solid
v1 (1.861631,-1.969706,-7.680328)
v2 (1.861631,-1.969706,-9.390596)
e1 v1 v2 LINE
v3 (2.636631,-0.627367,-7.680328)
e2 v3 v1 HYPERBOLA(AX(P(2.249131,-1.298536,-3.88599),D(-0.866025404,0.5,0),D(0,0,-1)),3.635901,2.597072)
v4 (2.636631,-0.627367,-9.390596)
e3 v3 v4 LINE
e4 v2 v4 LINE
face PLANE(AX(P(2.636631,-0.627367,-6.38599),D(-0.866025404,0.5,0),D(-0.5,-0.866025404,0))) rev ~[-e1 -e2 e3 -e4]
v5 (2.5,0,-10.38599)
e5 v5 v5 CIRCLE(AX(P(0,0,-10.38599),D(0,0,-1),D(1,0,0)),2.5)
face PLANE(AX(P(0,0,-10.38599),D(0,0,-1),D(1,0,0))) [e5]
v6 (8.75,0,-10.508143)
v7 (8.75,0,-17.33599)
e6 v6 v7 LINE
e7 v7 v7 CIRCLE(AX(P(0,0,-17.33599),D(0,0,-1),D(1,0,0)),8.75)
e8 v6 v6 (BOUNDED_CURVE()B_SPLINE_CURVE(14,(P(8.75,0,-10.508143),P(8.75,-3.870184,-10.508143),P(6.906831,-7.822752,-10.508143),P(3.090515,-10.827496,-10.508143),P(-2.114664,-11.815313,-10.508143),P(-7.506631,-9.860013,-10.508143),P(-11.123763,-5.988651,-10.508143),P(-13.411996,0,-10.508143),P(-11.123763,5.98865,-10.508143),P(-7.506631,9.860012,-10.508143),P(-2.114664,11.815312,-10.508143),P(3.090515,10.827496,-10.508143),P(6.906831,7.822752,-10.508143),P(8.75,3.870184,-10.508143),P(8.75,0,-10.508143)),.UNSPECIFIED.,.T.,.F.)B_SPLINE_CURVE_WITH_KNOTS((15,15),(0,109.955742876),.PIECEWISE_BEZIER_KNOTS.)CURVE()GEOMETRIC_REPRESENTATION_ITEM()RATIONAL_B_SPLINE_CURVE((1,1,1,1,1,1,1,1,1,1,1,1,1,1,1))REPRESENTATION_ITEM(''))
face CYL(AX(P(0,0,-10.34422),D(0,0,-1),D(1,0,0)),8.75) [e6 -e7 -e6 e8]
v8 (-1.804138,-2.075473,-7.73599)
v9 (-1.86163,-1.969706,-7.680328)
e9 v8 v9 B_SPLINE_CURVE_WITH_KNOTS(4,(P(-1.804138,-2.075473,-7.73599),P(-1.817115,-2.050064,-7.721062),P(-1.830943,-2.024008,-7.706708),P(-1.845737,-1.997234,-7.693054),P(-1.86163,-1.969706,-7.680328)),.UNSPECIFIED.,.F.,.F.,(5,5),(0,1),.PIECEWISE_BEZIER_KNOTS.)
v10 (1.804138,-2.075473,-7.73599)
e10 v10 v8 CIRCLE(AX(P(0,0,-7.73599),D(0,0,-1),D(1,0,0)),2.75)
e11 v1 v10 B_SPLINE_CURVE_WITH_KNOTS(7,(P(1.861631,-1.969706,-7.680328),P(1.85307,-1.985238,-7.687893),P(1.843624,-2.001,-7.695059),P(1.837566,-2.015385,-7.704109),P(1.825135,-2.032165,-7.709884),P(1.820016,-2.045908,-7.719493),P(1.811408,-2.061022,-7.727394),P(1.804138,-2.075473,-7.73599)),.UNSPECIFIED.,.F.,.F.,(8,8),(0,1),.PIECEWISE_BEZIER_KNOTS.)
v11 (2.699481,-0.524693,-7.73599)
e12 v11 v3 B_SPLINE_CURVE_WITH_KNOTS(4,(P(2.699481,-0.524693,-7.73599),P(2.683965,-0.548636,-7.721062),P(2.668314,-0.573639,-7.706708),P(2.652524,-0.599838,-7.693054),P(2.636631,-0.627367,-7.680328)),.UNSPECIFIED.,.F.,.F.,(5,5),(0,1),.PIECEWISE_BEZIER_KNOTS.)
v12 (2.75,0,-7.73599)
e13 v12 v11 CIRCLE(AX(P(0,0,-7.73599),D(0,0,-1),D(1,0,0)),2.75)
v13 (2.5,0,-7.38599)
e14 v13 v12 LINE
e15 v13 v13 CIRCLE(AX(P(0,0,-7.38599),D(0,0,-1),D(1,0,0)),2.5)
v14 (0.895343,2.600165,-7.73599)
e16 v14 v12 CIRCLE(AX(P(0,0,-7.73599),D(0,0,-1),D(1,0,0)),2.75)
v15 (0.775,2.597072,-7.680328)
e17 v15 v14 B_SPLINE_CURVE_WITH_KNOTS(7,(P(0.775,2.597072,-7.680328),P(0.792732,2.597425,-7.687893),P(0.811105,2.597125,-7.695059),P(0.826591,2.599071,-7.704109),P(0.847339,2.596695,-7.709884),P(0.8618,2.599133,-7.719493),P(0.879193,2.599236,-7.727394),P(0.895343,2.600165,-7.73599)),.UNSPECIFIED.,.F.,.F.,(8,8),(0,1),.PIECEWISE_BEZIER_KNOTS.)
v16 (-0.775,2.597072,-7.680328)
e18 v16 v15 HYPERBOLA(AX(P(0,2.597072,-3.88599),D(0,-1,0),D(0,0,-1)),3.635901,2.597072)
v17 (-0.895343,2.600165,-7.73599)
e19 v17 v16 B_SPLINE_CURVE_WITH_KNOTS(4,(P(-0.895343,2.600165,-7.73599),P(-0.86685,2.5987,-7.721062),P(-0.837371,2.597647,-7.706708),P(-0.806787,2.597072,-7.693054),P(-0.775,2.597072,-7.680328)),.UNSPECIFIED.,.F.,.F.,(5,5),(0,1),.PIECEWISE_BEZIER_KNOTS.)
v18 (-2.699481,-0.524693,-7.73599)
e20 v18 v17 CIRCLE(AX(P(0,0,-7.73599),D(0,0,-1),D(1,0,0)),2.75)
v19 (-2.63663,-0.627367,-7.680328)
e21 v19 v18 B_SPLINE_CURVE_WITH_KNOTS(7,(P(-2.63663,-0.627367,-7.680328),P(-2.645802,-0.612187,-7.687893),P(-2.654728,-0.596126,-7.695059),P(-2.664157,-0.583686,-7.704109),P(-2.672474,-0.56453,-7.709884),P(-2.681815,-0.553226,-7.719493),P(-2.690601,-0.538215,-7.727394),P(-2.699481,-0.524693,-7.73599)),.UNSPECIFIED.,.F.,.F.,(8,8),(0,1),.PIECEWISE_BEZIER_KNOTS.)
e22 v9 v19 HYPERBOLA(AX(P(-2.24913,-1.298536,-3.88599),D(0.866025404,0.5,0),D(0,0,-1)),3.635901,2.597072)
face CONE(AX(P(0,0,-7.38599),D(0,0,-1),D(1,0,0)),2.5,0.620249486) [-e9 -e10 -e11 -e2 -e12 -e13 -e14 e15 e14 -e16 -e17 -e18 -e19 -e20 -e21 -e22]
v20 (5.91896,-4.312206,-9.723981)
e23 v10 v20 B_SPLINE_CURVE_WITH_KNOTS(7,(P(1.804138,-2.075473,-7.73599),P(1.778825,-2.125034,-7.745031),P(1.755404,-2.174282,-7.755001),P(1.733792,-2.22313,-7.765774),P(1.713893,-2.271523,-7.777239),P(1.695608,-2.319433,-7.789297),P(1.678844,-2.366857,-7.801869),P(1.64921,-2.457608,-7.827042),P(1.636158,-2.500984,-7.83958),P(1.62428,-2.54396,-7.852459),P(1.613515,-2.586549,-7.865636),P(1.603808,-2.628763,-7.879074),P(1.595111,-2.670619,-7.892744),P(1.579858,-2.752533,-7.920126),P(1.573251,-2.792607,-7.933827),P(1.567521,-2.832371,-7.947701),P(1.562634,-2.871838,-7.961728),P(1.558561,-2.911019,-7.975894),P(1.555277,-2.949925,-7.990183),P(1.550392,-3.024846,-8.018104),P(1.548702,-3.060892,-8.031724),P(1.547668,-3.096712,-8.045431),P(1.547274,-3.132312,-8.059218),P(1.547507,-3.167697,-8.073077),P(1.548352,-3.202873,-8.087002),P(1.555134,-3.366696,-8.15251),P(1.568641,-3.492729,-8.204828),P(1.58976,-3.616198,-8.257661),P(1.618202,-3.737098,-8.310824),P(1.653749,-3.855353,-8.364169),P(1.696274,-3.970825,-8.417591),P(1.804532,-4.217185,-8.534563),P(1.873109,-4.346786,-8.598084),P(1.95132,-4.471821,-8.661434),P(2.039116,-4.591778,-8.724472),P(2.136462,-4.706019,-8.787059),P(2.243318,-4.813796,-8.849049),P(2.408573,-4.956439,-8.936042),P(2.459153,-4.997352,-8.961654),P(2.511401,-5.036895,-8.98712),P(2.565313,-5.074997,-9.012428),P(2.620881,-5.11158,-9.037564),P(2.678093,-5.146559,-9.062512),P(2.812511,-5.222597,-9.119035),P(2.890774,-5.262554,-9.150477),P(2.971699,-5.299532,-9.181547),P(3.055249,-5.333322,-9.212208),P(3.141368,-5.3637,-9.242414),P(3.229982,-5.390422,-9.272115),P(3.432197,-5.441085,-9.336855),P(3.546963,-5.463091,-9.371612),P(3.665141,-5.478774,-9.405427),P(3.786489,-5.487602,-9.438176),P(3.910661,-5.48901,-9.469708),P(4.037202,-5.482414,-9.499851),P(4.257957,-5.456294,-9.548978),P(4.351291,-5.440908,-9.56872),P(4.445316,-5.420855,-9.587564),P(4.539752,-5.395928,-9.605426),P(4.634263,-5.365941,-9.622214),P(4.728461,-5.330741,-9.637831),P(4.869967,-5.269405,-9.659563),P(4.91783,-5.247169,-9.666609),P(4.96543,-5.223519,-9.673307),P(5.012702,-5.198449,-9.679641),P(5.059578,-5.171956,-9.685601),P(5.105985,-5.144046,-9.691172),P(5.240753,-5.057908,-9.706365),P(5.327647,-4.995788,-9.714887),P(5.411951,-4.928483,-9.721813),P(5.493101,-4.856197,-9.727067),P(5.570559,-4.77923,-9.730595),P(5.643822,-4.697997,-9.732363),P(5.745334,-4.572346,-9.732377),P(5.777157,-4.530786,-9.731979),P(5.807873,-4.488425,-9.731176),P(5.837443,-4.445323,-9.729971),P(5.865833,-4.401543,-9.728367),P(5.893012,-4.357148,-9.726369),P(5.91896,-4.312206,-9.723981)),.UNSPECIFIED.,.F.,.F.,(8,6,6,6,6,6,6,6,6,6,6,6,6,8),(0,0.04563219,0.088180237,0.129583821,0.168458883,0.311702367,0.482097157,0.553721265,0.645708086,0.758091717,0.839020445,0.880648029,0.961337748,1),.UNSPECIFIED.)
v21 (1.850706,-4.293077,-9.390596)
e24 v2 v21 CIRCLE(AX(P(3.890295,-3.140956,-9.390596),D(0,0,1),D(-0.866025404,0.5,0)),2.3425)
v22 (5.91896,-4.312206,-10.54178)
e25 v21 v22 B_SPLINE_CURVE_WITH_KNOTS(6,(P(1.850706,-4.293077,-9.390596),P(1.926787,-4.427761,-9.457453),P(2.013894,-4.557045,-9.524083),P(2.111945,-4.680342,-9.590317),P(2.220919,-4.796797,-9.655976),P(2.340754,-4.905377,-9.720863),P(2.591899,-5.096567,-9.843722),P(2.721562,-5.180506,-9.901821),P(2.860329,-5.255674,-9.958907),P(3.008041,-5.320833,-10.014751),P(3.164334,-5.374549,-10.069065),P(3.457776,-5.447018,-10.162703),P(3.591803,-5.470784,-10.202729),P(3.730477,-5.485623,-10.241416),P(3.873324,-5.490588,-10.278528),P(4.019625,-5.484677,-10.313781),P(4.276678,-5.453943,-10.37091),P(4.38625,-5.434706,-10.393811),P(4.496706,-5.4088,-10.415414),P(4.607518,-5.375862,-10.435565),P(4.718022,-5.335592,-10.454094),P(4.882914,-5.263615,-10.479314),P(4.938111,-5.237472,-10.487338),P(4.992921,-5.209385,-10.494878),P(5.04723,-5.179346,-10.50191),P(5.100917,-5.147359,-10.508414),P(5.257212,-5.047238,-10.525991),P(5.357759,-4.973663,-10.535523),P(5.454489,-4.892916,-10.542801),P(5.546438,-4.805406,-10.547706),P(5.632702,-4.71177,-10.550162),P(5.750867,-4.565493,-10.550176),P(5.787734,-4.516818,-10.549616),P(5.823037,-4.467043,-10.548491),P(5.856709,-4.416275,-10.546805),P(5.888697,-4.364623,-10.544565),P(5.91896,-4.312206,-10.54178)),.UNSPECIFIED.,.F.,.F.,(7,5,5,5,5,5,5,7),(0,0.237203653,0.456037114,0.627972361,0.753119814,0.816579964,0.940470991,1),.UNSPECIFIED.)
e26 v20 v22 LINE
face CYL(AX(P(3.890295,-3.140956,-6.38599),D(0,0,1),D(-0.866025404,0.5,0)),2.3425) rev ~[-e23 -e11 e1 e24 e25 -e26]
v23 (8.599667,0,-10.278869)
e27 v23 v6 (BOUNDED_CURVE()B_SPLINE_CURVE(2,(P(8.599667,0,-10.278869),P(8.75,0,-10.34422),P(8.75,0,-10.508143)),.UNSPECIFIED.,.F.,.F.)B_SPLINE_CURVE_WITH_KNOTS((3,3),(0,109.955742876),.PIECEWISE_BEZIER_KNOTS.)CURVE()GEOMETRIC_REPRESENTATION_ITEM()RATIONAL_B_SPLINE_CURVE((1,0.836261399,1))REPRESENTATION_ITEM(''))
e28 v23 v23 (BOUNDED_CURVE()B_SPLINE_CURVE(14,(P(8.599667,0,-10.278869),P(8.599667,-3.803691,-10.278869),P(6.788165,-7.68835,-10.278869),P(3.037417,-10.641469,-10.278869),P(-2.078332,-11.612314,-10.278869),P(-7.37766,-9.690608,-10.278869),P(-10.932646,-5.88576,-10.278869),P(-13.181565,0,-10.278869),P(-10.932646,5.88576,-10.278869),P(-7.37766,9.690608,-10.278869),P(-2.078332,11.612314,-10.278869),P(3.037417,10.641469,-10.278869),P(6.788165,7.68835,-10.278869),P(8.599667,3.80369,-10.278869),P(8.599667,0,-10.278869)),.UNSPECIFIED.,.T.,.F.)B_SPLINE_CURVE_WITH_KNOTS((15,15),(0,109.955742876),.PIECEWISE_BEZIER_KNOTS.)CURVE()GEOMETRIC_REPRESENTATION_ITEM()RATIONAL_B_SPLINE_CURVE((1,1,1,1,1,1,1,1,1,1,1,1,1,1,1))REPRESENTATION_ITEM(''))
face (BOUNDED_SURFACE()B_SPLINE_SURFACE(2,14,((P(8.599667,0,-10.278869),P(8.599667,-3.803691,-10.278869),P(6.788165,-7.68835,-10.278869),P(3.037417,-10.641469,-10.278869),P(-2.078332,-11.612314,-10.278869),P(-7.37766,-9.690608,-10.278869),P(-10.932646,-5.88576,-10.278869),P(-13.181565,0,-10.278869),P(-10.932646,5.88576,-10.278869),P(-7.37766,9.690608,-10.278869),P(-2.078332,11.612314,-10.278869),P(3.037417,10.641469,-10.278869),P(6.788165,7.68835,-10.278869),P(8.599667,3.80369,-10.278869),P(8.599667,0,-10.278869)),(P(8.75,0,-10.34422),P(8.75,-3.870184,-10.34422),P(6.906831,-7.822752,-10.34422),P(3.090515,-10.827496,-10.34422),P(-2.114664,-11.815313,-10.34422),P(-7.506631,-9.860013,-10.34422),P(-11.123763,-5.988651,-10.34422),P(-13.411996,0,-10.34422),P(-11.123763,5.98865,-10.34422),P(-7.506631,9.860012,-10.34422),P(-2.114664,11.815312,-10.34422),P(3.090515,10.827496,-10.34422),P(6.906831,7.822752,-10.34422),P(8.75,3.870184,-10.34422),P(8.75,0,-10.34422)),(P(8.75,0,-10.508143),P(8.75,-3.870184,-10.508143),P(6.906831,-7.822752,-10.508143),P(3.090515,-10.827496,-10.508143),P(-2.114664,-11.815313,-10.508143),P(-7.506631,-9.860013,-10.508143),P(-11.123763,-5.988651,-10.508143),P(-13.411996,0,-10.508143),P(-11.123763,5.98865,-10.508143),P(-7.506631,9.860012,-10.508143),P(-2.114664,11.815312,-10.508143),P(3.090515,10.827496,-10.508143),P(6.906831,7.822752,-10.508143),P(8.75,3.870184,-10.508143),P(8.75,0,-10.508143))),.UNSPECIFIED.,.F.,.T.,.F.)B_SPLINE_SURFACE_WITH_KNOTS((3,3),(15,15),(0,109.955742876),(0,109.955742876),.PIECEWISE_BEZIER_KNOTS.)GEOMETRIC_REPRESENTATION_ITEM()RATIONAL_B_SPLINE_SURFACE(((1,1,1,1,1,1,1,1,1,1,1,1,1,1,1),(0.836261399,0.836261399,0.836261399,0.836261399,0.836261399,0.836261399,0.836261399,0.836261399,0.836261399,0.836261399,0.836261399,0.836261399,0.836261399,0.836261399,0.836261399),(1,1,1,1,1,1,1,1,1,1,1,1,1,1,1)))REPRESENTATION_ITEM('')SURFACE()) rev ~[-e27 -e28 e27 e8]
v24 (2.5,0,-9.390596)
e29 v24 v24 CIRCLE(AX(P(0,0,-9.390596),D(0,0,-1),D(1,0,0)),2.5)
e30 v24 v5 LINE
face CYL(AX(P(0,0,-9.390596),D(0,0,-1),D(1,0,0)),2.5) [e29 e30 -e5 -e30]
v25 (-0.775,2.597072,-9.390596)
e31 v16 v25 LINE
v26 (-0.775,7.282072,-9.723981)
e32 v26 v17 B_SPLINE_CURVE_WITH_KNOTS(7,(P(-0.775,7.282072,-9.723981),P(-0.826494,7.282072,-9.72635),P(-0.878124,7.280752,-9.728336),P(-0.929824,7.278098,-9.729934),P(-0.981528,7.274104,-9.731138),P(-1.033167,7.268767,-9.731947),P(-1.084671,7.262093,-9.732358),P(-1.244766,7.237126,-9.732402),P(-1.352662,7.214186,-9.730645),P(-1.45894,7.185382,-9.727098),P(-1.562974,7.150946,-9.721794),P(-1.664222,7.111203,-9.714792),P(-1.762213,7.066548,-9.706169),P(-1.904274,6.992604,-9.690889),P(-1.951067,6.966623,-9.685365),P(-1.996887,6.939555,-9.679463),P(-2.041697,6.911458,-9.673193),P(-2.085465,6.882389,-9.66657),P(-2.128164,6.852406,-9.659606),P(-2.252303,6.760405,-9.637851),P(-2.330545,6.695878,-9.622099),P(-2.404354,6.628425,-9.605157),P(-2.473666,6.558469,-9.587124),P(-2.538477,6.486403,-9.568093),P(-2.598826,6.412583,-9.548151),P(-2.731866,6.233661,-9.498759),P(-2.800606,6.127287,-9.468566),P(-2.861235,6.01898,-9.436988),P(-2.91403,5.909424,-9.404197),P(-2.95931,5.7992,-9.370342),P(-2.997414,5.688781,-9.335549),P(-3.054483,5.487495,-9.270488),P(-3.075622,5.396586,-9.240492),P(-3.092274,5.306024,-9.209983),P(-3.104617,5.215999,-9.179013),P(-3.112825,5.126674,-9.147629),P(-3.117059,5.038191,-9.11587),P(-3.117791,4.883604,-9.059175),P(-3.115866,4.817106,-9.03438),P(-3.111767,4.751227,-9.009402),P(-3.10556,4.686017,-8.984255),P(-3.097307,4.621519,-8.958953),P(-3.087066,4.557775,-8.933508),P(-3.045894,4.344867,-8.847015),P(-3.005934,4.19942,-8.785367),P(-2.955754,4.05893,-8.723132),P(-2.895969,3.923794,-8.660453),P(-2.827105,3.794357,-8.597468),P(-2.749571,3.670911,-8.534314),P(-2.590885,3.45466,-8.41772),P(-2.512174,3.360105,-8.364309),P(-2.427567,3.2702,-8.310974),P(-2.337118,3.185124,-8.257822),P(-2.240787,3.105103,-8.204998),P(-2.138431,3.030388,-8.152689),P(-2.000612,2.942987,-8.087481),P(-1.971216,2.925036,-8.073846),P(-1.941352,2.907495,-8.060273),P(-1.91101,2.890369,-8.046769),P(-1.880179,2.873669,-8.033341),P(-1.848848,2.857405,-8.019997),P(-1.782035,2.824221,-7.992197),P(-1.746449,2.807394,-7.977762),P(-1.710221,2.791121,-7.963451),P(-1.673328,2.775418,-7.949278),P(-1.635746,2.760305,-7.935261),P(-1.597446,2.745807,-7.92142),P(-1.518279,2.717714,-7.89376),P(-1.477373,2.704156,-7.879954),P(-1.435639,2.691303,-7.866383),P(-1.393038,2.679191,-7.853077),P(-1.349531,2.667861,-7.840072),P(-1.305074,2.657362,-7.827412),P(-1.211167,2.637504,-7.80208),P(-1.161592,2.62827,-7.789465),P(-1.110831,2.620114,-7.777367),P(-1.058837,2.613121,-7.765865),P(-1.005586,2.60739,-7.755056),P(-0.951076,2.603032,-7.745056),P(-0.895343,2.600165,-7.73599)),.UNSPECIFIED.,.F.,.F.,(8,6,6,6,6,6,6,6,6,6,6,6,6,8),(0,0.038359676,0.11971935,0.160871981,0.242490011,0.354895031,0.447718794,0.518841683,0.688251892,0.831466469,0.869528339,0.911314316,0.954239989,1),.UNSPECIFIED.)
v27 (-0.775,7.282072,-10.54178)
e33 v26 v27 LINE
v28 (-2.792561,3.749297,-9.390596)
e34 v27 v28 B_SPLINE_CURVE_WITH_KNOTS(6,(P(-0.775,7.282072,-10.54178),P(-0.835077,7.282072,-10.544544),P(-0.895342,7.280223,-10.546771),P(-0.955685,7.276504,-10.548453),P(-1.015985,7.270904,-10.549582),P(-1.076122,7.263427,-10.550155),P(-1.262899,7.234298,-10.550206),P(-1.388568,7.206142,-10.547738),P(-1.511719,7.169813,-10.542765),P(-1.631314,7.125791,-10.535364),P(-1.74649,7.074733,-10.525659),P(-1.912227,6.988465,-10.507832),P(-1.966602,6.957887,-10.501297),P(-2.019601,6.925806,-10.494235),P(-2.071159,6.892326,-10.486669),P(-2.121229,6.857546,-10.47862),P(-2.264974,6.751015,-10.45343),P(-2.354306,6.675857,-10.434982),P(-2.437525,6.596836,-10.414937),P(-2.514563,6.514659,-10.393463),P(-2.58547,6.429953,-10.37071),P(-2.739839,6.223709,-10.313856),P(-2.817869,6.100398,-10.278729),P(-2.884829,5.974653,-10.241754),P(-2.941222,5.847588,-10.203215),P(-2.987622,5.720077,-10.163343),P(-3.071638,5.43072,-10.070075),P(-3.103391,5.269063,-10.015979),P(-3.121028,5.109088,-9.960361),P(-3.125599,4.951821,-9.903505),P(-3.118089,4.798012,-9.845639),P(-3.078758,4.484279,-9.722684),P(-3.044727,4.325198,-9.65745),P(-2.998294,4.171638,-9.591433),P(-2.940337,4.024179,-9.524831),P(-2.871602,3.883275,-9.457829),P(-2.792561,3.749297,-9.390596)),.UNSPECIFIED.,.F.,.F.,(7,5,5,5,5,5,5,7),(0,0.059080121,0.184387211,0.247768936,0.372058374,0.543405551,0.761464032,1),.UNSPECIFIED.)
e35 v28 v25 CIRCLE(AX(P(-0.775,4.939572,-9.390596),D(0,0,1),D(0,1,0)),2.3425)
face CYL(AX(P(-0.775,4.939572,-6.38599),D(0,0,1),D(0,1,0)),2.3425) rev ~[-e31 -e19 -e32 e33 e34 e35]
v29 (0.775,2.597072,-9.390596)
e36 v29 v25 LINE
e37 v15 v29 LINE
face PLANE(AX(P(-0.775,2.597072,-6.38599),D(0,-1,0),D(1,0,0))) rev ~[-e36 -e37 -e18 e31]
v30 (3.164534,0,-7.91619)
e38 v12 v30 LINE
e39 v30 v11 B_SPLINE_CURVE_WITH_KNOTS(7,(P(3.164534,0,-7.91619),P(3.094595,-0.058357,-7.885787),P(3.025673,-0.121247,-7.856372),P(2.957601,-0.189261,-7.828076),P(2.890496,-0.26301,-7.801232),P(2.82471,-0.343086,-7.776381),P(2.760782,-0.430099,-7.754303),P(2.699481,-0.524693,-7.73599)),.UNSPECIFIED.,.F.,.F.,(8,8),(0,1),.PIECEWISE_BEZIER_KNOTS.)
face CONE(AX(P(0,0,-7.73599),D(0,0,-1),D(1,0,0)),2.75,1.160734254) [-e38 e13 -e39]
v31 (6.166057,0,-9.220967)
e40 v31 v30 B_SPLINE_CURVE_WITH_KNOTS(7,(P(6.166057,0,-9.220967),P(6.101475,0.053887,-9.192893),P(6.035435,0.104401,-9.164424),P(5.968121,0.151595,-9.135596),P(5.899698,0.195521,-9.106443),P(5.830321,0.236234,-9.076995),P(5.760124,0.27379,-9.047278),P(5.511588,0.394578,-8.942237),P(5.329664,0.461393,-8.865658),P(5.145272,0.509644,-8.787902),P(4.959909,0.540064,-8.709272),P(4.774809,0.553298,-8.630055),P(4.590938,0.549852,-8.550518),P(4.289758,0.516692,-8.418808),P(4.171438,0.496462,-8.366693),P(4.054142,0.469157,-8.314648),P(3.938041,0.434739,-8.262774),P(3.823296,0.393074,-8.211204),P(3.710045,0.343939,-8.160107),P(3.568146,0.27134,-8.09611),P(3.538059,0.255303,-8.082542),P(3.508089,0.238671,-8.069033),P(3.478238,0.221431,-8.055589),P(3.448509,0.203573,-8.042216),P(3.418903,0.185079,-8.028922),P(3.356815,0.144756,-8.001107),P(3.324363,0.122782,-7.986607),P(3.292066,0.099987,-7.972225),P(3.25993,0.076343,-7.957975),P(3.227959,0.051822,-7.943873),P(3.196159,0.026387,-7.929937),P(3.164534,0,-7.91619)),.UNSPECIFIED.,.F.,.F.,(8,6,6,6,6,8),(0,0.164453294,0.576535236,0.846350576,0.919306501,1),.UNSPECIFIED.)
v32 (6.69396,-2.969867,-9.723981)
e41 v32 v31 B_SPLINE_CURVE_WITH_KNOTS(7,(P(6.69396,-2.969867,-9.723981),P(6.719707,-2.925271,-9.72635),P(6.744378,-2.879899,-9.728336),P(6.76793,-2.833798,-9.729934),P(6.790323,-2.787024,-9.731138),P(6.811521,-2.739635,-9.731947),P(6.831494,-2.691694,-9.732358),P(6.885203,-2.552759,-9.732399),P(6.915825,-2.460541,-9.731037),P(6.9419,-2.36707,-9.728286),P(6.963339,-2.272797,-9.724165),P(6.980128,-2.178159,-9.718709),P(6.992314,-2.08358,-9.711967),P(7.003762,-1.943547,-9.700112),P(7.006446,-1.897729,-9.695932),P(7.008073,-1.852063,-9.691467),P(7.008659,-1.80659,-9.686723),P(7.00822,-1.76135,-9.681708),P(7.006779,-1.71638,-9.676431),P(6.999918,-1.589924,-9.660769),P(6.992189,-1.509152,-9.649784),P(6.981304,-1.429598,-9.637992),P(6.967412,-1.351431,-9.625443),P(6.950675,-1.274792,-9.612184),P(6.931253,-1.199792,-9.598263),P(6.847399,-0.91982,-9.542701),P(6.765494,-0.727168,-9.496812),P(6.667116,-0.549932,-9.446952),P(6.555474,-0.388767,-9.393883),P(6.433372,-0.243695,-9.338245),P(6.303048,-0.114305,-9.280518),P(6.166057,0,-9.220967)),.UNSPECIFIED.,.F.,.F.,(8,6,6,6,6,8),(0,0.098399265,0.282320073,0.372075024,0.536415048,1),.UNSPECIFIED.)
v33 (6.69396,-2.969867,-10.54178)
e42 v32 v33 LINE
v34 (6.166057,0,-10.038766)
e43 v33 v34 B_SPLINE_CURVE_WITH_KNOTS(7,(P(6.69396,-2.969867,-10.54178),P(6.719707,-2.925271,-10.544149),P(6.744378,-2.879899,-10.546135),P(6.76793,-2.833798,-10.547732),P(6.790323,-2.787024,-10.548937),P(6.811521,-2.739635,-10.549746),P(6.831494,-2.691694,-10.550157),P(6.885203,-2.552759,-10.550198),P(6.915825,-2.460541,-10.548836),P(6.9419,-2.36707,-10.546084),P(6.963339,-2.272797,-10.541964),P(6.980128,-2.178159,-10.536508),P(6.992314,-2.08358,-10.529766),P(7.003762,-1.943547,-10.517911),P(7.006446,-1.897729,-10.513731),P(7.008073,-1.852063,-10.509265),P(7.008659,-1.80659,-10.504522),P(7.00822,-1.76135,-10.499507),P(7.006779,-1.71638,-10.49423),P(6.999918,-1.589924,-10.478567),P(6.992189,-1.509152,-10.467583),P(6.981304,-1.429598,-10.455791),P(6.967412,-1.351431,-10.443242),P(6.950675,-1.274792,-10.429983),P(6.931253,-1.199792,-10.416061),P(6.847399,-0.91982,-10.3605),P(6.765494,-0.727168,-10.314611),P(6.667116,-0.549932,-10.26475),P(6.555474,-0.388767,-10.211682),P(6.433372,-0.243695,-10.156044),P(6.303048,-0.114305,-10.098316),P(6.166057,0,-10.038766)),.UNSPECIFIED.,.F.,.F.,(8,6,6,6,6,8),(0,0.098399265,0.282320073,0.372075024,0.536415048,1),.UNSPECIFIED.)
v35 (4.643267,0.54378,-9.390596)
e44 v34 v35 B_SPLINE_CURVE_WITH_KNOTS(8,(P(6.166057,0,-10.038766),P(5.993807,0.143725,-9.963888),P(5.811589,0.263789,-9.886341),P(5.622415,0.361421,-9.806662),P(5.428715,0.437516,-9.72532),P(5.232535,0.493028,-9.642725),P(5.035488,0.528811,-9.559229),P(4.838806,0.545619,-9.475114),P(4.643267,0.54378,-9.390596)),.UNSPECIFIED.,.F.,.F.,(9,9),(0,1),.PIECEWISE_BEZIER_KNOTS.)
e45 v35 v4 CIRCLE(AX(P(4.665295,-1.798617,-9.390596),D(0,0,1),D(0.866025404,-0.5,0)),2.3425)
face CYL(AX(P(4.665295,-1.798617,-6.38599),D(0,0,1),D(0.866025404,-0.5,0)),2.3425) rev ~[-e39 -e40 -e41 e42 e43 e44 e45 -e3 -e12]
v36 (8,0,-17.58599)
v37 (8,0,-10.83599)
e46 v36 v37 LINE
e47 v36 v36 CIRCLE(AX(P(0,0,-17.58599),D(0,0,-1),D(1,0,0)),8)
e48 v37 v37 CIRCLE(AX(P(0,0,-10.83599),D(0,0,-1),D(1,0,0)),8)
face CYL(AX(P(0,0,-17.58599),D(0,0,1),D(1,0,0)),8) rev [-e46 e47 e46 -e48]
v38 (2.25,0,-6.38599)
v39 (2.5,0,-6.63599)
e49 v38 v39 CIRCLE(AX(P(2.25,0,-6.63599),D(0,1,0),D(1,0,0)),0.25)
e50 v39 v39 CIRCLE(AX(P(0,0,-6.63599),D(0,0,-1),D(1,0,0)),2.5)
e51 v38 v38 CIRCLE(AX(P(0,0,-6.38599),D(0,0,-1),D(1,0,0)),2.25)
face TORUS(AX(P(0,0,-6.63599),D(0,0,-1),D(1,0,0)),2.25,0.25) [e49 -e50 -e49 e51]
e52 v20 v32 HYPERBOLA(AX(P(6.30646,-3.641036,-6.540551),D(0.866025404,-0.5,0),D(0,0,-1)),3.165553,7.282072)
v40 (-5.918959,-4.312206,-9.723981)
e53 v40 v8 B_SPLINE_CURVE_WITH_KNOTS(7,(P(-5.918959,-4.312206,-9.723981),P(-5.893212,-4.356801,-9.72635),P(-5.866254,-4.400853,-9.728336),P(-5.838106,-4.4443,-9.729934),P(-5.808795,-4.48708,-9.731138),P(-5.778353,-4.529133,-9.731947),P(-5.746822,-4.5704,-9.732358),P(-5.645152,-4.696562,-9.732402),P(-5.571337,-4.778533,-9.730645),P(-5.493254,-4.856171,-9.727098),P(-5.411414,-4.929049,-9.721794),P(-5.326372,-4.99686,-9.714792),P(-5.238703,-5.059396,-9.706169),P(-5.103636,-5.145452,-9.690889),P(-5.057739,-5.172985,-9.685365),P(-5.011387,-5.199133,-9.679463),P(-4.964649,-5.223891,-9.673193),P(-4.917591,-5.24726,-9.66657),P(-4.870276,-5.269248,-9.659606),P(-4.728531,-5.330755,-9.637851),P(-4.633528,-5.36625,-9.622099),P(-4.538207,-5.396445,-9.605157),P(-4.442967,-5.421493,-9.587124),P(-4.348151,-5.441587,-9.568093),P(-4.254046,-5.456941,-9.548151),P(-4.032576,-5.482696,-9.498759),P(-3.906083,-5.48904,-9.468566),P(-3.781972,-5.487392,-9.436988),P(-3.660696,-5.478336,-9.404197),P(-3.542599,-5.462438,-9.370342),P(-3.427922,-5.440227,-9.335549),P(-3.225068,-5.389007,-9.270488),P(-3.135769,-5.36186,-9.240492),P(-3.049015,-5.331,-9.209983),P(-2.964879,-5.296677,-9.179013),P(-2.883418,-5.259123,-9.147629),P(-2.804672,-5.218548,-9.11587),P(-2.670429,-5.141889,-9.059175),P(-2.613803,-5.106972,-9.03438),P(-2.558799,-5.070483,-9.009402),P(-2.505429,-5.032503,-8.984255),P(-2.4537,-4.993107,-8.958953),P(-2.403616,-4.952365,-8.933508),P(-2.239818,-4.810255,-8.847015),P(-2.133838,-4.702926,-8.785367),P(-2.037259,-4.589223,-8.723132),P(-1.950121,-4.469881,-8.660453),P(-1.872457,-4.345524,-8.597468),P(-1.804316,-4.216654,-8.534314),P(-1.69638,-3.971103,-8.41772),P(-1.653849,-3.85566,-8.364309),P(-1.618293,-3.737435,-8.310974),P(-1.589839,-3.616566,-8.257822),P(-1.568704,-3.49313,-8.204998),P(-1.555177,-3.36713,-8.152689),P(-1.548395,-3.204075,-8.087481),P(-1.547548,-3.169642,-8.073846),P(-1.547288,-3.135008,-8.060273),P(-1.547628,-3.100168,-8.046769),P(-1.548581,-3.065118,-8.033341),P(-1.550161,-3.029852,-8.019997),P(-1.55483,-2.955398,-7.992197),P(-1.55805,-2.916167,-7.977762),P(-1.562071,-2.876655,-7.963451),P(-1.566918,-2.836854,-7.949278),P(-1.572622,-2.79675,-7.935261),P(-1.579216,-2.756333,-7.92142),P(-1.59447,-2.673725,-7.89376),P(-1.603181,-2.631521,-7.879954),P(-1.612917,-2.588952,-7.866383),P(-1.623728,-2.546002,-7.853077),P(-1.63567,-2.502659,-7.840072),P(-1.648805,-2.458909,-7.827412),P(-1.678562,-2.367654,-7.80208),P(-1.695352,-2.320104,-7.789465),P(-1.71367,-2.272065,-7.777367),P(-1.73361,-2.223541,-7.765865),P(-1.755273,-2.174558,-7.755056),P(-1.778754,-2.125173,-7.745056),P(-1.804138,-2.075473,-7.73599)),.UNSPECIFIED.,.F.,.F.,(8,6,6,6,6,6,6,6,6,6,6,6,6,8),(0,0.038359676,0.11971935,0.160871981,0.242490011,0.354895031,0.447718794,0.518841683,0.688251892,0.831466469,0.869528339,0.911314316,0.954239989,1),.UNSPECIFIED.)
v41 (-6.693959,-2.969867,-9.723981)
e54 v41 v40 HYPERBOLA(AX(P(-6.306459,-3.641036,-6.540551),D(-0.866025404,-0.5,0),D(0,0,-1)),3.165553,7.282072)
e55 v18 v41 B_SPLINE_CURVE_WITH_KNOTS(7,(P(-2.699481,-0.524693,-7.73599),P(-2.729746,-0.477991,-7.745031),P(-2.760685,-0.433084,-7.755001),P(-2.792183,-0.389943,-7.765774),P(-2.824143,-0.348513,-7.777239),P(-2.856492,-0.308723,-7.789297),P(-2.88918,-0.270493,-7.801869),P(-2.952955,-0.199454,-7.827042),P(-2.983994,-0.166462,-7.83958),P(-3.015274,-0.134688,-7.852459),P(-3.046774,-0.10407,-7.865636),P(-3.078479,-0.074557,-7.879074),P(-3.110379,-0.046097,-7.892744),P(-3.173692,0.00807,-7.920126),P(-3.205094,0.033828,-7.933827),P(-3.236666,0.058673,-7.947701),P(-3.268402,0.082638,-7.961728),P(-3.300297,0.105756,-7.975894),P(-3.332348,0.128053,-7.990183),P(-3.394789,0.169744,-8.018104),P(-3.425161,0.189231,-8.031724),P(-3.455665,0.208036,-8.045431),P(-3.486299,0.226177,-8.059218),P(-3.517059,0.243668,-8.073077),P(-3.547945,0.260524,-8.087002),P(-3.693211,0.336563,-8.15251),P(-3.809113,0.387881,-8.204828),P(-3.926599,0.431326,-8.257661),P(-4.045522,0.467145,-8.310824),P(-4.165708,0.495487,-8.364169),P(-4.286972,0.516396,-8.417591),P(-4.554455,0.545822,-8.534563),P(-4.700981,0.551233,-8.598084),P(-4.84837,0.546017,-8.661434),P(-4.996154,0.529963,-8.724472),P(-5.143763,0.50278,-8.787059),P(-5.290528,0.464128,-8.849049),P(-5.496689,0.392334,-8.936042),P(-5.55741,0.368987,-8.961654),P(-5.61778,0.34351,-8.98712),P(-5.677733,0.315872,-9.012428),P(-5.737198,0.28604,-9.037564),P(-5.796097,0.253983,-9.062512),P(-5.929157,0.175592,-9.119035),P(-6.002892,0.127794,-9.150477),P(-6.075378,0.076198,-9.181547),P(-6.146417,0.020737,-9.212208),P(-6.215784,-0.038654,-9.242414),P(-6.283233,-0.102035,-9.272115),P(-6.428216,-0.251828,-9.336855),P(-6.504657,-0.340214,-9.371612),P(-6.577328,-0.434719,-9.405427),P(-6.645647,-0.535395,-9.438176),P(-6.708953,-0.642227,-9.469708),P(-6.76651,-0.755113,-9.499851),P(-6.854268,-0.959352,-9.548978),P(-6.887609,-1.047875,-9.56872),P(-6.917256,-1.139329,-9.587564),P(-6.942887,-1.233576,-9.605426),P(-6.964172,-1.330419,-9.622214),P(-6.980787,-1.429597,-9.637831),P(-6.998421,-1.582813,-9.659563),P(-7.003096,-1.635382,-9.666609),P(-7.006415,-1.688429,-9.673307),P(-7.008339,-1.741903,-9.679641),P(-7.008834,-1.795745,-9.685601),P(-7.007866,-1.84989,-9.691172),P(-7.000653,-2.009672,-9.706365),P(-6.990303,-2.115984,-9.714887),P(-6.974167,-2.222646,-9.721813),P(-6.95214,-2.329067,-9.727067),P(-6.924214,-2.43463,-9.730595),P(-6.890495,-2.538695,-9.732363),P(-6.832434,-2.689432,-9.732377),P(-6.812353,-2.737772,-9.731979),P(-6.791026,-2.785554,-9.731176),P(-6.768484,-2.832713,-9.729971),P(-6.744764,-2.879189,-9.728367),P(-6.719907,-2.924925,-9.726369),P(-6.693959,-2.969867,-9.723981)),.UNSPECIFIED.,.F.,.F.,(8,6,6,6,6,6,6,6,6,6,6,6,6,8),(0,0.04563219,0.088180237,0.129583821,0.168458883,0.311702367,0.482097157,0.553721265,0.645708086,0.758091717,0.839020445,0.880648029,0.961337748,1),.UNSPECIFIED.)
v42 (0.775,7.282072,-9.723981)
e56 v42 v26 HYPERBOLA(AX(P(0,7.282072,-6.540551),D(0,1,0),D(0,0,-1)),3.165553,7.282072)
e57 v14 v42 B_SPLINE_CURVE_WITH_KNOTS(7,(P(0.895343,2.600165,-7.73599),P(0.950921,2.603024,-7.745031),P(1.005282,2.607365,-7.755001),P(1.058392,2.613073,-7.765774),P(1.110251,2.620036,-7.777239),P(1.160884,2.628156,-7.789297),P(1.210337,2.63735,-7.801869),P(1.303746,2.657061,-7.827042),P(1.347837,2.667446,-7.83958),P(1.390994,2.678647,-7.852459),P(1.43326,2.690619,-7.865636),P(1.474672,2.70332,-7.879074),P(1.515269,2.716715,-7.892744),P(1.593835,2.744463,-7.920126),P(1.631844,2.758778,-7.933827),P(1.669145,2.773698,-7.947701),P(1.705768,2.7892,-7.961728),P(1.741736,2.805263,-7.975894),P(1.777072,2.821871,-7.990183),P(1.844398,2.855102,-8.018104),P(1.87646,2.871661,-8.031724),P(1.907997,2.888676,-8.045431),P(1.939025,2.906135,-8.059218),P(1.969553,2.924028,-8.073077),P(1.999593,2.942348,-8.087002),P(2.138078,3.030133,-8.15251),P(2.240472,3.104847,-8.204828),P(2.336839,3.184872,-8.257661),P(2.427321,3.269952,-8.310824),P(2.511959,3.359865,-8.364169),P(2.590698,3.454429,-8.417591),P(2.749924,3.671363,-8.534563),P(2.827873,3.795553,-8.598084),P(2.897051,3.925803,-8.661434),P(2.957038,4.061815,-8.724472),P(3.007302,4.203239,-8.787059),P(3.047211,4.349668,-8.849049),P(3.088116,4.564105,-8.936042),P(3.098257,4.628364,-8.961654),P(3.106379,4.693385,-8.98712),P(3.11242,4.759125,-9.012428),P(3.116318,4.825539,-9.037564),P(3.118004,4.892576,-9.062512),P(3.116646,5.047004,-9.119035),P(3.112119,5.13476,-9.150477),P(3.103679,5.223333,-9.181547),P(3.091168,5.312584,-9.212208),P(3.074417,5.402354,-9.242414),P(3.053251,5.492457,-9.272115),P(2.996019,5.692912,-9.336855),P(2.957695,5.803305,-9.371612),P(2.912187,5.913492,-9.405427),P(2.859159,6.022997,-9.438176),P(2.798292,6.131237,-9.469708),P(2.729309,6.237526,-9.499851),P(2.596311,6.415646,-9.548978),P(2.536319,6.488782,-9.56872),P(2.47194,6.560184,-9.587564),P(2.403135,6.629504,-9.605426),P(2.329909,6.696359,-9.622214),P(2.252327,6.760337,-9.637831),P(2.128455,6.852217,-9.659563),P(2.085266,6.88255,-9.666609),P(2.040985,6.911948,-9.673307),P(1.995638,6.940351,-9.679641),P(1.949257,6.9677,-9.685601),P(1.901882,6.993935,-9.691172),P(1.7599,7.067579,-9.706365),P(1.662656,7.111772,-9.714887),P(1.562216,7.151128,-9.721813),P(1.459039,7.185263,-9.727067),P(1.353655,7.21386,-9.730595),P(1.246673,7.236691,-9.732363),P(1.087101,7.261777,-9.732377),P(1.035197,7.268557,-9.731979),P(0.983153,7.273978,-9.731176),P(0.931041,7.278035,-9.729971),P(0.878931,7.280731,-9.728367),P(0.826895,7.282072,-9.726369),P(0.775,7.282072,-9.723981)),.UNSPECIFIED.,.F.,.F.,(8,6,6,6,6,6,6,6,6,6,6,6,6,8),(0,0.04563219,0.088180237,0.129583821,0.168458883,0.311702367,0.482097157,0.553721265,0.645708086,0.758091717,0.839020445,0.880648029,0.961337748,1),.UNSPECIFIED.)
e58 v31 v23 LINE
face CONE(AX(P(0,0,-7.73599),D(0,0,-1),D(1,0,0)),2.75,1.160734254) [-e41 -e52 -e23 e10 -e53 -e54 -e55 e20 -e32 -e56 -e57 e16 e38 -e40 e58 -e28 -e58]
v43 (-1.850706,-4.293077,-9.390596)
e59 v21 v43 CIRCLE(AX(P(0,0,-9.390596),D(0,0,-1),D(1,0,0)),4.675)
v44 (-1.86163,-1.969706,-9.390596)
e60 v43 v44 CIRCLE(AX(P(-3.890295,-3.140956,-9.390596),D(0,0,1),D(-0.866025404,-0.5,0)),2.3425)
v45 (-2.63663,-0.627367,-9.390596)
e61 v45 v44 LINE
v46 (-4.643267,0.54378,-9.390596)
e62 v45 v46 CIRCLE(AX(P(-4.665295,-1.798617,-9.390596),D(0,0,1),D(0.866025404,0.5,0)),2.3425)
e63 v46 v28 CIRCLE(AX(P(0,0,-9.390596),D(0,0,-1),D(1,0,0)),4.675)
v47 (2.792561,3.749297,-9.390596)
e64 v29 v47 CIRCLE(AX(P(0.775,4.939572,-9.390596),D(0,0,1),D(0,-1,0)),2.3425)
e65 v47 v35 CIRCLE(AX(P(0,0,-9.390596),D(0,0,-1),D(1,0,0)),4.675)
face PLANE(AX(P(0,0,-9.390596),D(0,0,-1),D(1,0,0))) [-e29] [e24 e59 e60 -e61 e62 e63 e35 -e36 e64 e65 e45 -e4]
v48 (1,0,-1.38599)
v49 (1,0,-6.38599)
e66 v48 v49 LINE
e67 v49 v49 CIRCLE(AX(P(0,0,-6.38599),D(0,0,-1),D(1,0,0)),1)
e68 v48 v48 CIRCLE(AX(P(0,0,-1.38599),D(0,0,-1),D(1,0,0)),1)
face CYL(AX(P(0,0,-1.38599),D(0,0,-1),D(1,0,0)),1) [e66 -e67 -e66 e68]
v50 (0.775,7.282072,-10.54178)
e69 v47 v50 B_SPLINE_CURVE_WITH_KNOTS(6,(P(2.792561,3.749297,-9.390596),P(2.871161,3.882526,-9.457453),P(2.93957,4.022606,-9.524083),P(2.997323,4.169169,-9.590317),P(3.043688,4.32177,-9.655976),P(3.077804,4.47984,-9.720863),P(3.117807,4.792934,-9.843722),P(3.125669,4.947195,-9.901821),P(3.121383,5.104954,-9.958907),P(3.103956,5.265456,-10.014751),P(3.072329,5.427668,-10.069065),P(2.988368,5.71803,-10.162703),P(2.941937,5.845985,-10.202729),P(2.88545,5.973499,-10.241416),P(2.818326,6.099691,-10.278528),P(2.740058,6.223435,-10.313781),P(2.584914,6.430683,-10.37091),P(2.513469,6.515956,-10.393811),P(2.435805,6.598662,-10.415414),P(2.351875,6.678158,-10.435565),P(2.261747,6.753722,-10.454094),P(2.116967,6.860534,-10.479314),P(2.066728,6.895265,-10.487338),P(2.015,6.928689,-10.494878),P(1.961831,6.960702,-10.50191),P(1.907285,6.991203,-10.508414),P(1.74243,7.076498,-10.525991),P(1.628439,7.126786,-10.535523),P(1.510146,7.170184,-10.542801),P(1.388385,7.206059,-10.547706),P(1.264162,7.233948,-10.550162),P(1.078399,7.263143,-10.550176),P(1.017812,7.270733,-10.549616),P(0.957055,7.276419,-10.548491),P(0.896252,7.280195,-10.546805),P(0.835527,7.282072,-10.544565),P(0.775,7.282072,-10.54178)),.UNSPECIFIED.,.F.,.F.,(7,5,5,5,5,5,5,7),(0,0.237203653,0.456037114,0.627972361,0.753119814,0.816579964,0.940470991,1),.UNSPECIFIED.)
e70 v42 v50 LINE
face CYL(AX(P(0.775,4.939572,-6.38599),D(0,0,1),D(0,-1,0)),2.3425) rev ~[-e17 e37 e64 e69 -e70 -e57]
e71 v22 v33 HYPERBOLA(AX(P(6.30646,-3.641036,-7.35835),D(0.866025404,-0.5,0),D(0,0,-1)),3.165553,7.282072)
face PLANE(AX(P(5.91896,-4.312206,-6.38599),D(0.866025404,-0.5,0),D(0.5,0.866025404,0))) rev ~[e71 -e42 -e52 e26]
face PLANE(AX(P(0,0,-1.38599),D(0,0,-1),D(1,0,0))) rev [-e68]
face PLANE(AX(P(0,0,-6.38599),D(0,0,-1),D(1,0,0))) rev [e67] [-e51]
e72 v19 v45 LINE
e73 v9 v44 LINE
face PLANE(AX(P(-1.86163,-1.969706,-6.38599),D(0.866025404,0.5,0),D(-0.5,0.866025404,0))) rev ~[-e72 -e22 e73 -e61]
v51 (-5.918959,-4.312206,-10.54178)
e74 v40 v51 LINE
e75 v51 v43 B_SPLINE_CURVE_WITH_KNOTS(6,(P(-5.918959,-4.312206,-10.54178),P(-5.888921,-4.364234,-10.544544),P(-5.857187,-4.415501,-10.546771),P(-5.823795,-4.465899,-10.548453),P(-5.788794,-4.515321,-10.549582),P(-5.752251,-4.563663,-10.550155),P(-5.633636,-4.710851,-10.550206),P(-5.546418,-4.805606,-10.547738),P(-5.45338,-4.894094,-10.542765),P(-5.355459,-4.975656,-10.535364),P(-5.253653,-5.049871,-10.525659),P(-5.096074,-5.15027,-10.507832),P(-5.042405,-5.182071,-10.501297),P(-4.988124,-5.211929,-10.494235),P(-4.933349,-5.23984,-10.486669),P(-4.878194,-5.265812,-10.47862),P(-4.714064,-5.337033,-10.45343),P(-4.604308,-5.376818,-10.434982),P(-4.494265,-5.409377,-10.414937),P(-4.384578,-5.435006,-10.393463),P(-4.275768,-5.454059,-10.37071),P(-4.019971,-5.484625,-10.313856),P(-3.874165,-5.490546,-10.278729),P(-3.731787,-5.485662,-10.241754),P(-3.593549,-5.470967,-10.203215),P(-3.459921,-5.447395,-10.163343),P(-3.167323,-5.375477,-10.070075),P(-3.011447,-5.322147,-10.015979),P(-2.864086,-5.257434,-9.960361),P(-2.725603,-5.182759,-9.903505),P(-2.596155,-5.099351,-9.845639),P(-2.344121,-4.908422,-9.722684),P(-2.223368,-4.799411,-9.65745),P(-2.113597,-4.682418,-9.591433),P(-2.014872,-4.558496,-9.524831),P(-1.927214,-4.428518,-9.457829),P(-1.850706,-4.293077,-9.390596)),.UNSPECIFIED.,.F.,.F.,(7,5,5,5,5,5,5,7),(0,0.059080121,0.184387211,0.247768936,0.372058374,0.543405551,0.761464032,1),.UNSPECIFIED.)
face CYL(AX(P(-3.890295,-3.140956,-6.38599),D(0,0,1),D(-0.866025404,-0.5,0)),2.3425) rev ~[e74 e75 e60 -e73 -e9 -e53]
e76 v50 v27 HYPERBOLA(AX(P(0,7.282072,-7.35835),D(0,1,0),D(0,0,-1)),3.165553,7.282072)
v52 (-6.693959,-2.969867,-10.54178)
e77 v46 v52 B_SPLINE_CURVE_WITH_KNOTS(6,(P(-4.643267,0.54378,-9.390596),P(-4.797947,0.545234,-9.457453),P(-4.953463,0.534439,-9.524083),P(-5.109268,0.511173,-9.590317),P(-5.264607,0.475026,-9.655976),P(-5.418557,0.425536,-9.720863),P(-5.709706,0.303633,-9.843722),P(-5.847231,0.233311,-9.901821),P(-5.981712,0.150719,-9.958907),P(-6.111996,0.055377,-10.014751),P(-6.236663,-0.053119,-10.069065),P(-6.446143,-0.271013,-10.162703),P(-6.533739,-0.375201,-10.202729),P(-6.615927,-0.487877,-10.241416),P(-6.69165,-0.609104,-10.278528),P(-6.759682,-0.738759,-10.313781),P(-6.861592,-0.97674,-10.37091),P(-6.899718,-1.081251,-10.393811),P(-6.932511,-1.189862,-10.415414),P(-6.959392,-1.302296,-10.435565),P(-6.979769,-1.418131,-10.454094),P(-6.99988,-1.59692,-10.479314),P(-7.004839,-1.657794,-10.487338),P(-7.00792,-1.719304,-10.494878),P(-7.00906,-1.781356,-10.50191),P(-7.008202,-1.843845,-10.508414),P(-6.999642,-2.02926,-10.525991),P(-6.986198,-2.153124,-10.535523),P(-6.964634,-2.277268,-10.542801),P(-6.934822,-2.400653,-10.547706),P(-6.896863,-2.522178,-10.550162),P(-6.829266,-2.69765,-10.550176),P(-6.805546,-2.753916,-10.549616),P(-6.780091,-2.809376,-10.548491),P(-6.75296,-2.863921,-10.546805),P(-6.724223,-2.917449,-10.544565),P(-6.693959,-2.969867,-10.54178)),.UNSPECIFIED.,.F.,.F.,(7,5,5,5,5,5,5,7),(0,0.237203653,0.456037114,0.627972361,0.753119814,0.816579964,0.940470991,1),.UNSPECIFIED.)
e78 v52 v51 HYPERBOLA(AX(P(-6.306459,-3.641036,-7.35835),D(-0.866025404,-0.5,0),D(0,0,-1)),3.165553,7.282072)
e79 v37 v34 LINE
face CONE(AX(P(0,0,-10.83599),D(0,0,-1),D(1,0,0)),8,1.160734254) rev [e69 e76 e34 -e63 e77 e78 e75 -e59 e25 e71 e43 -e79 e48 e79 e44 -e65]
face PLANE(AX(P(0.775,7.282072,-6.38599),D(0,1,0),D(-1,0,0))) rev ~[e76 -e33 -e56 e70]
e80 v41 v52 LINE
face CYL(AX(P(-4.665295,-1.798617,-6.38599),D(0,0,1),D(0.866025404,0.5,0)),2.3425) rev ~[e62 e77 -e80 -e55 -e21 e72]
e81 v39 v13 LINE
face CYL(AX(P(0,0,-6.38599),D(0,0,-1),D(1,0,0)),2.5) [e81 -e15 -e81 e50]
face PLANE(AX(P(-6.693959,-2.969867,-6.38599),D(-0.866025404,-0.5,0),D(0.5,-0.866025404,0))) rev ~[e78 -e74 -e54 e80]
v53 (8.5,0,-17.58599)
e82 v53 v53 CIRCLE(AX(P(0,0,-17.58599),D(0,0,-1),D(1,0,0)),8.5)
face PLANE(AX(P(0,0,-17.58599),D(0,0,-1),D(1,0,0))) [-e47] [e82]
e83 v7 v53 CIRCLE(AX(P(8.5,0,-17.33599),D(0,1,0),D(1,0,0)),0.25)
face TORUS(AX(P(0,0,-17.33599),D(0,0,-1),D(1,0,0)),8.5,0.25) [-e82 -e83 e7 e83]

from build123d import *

# Parameters (mm, degrees)
CUT_EXTRUDE_1_DEPTH      = 10
PATTERN_CIRCULAR_1_COUNT = 3
FILLET_1_R               = 0.5
SCALE_1_SCALE            = 0.5


with BuildPart() as part:
    # Эскиз1 → Повернуть1 (revolve)
    with BuildSketch(Plane(origin=(0, 0, 0), x_dir=(0, 0, -1), z_dir=(1, 0, 0)), mode=Mode.PRIVATE) as revolve_1_sk:
        Polygon((-9, 0), (-9, 2), (1, 2), (1, 5), (3, 5), (3.7, 5.5), (8.916460066, 17.5), (23.4, 17.5), (23.4, 16), (9.9, 16), (7.009211714, 9.35), (7.009211714, 5), (9, 5), (9, 0), align=None)
    revolve(revolve_1_sk.sketch.rotate(Axis((0, 0, -9), (0, 0, -1)), 90), axis=Axis((0, 0, -9), (0, 0, -1)))

    # Эскиз2 → Вырез-Вытянуть1 (cut)
    with BuildSketch(Plane.XY.offset(-1)):
        with BuildLine():
            Line((1.55, 14.5641447), (-1.55, 14.5641447))
            ThreePointArc((-1.55, 14.5641447), (-6.235, 9.8791447), (-1.55, 5.1941447))
            Line((-1.55, 5.1941447), (1.55, 5.1941447))
            ThreePointArc((1.55, 5.1941447), (6.235, 9.8791447), (1.55, 14.5641447))
        make_face()
    cut_extrude_1 = extrude(amount=-CUT_EXTRUDE_1_DEPTH, mode=Mode.SUBTRACT)

    # Круговой массив1: Вырез-Вытянуть1 ×3 about axis
    pattern_circular_1_axis = Axis((0, 0, 0), (0, 0, 1))
    for i in range(1, PATTERN_CIRCULAR_1_COUNT):
        add(cut_extrude_1.rotate(pattern_circular_1_axis, i * 360 / PATTERN_CIRCULAR_1_COUNT), mode=Mode.SUBTRACT)

    # Скругление1
    fillet_1_edges = [part.edges().sort_by_distance(p)[0] for p in [
        (-17.5, 0, -23.4),
        (-17.5, 0, -8.916460066),
        (-5, 0, -1),
    ]]
    fillet(fillet_1_edges, radius=FILLET_1_R)


with BuildPart() as part_1:
    # Масштаб1: scaled about (3.2e-07, -3.26e-07, -11.771980124)
    add(part.part.scale(SCALE_1_SCALE).moved(Location((1.6e-07, -1.63e-07, -5.885990062))))


solid = part_1.part
